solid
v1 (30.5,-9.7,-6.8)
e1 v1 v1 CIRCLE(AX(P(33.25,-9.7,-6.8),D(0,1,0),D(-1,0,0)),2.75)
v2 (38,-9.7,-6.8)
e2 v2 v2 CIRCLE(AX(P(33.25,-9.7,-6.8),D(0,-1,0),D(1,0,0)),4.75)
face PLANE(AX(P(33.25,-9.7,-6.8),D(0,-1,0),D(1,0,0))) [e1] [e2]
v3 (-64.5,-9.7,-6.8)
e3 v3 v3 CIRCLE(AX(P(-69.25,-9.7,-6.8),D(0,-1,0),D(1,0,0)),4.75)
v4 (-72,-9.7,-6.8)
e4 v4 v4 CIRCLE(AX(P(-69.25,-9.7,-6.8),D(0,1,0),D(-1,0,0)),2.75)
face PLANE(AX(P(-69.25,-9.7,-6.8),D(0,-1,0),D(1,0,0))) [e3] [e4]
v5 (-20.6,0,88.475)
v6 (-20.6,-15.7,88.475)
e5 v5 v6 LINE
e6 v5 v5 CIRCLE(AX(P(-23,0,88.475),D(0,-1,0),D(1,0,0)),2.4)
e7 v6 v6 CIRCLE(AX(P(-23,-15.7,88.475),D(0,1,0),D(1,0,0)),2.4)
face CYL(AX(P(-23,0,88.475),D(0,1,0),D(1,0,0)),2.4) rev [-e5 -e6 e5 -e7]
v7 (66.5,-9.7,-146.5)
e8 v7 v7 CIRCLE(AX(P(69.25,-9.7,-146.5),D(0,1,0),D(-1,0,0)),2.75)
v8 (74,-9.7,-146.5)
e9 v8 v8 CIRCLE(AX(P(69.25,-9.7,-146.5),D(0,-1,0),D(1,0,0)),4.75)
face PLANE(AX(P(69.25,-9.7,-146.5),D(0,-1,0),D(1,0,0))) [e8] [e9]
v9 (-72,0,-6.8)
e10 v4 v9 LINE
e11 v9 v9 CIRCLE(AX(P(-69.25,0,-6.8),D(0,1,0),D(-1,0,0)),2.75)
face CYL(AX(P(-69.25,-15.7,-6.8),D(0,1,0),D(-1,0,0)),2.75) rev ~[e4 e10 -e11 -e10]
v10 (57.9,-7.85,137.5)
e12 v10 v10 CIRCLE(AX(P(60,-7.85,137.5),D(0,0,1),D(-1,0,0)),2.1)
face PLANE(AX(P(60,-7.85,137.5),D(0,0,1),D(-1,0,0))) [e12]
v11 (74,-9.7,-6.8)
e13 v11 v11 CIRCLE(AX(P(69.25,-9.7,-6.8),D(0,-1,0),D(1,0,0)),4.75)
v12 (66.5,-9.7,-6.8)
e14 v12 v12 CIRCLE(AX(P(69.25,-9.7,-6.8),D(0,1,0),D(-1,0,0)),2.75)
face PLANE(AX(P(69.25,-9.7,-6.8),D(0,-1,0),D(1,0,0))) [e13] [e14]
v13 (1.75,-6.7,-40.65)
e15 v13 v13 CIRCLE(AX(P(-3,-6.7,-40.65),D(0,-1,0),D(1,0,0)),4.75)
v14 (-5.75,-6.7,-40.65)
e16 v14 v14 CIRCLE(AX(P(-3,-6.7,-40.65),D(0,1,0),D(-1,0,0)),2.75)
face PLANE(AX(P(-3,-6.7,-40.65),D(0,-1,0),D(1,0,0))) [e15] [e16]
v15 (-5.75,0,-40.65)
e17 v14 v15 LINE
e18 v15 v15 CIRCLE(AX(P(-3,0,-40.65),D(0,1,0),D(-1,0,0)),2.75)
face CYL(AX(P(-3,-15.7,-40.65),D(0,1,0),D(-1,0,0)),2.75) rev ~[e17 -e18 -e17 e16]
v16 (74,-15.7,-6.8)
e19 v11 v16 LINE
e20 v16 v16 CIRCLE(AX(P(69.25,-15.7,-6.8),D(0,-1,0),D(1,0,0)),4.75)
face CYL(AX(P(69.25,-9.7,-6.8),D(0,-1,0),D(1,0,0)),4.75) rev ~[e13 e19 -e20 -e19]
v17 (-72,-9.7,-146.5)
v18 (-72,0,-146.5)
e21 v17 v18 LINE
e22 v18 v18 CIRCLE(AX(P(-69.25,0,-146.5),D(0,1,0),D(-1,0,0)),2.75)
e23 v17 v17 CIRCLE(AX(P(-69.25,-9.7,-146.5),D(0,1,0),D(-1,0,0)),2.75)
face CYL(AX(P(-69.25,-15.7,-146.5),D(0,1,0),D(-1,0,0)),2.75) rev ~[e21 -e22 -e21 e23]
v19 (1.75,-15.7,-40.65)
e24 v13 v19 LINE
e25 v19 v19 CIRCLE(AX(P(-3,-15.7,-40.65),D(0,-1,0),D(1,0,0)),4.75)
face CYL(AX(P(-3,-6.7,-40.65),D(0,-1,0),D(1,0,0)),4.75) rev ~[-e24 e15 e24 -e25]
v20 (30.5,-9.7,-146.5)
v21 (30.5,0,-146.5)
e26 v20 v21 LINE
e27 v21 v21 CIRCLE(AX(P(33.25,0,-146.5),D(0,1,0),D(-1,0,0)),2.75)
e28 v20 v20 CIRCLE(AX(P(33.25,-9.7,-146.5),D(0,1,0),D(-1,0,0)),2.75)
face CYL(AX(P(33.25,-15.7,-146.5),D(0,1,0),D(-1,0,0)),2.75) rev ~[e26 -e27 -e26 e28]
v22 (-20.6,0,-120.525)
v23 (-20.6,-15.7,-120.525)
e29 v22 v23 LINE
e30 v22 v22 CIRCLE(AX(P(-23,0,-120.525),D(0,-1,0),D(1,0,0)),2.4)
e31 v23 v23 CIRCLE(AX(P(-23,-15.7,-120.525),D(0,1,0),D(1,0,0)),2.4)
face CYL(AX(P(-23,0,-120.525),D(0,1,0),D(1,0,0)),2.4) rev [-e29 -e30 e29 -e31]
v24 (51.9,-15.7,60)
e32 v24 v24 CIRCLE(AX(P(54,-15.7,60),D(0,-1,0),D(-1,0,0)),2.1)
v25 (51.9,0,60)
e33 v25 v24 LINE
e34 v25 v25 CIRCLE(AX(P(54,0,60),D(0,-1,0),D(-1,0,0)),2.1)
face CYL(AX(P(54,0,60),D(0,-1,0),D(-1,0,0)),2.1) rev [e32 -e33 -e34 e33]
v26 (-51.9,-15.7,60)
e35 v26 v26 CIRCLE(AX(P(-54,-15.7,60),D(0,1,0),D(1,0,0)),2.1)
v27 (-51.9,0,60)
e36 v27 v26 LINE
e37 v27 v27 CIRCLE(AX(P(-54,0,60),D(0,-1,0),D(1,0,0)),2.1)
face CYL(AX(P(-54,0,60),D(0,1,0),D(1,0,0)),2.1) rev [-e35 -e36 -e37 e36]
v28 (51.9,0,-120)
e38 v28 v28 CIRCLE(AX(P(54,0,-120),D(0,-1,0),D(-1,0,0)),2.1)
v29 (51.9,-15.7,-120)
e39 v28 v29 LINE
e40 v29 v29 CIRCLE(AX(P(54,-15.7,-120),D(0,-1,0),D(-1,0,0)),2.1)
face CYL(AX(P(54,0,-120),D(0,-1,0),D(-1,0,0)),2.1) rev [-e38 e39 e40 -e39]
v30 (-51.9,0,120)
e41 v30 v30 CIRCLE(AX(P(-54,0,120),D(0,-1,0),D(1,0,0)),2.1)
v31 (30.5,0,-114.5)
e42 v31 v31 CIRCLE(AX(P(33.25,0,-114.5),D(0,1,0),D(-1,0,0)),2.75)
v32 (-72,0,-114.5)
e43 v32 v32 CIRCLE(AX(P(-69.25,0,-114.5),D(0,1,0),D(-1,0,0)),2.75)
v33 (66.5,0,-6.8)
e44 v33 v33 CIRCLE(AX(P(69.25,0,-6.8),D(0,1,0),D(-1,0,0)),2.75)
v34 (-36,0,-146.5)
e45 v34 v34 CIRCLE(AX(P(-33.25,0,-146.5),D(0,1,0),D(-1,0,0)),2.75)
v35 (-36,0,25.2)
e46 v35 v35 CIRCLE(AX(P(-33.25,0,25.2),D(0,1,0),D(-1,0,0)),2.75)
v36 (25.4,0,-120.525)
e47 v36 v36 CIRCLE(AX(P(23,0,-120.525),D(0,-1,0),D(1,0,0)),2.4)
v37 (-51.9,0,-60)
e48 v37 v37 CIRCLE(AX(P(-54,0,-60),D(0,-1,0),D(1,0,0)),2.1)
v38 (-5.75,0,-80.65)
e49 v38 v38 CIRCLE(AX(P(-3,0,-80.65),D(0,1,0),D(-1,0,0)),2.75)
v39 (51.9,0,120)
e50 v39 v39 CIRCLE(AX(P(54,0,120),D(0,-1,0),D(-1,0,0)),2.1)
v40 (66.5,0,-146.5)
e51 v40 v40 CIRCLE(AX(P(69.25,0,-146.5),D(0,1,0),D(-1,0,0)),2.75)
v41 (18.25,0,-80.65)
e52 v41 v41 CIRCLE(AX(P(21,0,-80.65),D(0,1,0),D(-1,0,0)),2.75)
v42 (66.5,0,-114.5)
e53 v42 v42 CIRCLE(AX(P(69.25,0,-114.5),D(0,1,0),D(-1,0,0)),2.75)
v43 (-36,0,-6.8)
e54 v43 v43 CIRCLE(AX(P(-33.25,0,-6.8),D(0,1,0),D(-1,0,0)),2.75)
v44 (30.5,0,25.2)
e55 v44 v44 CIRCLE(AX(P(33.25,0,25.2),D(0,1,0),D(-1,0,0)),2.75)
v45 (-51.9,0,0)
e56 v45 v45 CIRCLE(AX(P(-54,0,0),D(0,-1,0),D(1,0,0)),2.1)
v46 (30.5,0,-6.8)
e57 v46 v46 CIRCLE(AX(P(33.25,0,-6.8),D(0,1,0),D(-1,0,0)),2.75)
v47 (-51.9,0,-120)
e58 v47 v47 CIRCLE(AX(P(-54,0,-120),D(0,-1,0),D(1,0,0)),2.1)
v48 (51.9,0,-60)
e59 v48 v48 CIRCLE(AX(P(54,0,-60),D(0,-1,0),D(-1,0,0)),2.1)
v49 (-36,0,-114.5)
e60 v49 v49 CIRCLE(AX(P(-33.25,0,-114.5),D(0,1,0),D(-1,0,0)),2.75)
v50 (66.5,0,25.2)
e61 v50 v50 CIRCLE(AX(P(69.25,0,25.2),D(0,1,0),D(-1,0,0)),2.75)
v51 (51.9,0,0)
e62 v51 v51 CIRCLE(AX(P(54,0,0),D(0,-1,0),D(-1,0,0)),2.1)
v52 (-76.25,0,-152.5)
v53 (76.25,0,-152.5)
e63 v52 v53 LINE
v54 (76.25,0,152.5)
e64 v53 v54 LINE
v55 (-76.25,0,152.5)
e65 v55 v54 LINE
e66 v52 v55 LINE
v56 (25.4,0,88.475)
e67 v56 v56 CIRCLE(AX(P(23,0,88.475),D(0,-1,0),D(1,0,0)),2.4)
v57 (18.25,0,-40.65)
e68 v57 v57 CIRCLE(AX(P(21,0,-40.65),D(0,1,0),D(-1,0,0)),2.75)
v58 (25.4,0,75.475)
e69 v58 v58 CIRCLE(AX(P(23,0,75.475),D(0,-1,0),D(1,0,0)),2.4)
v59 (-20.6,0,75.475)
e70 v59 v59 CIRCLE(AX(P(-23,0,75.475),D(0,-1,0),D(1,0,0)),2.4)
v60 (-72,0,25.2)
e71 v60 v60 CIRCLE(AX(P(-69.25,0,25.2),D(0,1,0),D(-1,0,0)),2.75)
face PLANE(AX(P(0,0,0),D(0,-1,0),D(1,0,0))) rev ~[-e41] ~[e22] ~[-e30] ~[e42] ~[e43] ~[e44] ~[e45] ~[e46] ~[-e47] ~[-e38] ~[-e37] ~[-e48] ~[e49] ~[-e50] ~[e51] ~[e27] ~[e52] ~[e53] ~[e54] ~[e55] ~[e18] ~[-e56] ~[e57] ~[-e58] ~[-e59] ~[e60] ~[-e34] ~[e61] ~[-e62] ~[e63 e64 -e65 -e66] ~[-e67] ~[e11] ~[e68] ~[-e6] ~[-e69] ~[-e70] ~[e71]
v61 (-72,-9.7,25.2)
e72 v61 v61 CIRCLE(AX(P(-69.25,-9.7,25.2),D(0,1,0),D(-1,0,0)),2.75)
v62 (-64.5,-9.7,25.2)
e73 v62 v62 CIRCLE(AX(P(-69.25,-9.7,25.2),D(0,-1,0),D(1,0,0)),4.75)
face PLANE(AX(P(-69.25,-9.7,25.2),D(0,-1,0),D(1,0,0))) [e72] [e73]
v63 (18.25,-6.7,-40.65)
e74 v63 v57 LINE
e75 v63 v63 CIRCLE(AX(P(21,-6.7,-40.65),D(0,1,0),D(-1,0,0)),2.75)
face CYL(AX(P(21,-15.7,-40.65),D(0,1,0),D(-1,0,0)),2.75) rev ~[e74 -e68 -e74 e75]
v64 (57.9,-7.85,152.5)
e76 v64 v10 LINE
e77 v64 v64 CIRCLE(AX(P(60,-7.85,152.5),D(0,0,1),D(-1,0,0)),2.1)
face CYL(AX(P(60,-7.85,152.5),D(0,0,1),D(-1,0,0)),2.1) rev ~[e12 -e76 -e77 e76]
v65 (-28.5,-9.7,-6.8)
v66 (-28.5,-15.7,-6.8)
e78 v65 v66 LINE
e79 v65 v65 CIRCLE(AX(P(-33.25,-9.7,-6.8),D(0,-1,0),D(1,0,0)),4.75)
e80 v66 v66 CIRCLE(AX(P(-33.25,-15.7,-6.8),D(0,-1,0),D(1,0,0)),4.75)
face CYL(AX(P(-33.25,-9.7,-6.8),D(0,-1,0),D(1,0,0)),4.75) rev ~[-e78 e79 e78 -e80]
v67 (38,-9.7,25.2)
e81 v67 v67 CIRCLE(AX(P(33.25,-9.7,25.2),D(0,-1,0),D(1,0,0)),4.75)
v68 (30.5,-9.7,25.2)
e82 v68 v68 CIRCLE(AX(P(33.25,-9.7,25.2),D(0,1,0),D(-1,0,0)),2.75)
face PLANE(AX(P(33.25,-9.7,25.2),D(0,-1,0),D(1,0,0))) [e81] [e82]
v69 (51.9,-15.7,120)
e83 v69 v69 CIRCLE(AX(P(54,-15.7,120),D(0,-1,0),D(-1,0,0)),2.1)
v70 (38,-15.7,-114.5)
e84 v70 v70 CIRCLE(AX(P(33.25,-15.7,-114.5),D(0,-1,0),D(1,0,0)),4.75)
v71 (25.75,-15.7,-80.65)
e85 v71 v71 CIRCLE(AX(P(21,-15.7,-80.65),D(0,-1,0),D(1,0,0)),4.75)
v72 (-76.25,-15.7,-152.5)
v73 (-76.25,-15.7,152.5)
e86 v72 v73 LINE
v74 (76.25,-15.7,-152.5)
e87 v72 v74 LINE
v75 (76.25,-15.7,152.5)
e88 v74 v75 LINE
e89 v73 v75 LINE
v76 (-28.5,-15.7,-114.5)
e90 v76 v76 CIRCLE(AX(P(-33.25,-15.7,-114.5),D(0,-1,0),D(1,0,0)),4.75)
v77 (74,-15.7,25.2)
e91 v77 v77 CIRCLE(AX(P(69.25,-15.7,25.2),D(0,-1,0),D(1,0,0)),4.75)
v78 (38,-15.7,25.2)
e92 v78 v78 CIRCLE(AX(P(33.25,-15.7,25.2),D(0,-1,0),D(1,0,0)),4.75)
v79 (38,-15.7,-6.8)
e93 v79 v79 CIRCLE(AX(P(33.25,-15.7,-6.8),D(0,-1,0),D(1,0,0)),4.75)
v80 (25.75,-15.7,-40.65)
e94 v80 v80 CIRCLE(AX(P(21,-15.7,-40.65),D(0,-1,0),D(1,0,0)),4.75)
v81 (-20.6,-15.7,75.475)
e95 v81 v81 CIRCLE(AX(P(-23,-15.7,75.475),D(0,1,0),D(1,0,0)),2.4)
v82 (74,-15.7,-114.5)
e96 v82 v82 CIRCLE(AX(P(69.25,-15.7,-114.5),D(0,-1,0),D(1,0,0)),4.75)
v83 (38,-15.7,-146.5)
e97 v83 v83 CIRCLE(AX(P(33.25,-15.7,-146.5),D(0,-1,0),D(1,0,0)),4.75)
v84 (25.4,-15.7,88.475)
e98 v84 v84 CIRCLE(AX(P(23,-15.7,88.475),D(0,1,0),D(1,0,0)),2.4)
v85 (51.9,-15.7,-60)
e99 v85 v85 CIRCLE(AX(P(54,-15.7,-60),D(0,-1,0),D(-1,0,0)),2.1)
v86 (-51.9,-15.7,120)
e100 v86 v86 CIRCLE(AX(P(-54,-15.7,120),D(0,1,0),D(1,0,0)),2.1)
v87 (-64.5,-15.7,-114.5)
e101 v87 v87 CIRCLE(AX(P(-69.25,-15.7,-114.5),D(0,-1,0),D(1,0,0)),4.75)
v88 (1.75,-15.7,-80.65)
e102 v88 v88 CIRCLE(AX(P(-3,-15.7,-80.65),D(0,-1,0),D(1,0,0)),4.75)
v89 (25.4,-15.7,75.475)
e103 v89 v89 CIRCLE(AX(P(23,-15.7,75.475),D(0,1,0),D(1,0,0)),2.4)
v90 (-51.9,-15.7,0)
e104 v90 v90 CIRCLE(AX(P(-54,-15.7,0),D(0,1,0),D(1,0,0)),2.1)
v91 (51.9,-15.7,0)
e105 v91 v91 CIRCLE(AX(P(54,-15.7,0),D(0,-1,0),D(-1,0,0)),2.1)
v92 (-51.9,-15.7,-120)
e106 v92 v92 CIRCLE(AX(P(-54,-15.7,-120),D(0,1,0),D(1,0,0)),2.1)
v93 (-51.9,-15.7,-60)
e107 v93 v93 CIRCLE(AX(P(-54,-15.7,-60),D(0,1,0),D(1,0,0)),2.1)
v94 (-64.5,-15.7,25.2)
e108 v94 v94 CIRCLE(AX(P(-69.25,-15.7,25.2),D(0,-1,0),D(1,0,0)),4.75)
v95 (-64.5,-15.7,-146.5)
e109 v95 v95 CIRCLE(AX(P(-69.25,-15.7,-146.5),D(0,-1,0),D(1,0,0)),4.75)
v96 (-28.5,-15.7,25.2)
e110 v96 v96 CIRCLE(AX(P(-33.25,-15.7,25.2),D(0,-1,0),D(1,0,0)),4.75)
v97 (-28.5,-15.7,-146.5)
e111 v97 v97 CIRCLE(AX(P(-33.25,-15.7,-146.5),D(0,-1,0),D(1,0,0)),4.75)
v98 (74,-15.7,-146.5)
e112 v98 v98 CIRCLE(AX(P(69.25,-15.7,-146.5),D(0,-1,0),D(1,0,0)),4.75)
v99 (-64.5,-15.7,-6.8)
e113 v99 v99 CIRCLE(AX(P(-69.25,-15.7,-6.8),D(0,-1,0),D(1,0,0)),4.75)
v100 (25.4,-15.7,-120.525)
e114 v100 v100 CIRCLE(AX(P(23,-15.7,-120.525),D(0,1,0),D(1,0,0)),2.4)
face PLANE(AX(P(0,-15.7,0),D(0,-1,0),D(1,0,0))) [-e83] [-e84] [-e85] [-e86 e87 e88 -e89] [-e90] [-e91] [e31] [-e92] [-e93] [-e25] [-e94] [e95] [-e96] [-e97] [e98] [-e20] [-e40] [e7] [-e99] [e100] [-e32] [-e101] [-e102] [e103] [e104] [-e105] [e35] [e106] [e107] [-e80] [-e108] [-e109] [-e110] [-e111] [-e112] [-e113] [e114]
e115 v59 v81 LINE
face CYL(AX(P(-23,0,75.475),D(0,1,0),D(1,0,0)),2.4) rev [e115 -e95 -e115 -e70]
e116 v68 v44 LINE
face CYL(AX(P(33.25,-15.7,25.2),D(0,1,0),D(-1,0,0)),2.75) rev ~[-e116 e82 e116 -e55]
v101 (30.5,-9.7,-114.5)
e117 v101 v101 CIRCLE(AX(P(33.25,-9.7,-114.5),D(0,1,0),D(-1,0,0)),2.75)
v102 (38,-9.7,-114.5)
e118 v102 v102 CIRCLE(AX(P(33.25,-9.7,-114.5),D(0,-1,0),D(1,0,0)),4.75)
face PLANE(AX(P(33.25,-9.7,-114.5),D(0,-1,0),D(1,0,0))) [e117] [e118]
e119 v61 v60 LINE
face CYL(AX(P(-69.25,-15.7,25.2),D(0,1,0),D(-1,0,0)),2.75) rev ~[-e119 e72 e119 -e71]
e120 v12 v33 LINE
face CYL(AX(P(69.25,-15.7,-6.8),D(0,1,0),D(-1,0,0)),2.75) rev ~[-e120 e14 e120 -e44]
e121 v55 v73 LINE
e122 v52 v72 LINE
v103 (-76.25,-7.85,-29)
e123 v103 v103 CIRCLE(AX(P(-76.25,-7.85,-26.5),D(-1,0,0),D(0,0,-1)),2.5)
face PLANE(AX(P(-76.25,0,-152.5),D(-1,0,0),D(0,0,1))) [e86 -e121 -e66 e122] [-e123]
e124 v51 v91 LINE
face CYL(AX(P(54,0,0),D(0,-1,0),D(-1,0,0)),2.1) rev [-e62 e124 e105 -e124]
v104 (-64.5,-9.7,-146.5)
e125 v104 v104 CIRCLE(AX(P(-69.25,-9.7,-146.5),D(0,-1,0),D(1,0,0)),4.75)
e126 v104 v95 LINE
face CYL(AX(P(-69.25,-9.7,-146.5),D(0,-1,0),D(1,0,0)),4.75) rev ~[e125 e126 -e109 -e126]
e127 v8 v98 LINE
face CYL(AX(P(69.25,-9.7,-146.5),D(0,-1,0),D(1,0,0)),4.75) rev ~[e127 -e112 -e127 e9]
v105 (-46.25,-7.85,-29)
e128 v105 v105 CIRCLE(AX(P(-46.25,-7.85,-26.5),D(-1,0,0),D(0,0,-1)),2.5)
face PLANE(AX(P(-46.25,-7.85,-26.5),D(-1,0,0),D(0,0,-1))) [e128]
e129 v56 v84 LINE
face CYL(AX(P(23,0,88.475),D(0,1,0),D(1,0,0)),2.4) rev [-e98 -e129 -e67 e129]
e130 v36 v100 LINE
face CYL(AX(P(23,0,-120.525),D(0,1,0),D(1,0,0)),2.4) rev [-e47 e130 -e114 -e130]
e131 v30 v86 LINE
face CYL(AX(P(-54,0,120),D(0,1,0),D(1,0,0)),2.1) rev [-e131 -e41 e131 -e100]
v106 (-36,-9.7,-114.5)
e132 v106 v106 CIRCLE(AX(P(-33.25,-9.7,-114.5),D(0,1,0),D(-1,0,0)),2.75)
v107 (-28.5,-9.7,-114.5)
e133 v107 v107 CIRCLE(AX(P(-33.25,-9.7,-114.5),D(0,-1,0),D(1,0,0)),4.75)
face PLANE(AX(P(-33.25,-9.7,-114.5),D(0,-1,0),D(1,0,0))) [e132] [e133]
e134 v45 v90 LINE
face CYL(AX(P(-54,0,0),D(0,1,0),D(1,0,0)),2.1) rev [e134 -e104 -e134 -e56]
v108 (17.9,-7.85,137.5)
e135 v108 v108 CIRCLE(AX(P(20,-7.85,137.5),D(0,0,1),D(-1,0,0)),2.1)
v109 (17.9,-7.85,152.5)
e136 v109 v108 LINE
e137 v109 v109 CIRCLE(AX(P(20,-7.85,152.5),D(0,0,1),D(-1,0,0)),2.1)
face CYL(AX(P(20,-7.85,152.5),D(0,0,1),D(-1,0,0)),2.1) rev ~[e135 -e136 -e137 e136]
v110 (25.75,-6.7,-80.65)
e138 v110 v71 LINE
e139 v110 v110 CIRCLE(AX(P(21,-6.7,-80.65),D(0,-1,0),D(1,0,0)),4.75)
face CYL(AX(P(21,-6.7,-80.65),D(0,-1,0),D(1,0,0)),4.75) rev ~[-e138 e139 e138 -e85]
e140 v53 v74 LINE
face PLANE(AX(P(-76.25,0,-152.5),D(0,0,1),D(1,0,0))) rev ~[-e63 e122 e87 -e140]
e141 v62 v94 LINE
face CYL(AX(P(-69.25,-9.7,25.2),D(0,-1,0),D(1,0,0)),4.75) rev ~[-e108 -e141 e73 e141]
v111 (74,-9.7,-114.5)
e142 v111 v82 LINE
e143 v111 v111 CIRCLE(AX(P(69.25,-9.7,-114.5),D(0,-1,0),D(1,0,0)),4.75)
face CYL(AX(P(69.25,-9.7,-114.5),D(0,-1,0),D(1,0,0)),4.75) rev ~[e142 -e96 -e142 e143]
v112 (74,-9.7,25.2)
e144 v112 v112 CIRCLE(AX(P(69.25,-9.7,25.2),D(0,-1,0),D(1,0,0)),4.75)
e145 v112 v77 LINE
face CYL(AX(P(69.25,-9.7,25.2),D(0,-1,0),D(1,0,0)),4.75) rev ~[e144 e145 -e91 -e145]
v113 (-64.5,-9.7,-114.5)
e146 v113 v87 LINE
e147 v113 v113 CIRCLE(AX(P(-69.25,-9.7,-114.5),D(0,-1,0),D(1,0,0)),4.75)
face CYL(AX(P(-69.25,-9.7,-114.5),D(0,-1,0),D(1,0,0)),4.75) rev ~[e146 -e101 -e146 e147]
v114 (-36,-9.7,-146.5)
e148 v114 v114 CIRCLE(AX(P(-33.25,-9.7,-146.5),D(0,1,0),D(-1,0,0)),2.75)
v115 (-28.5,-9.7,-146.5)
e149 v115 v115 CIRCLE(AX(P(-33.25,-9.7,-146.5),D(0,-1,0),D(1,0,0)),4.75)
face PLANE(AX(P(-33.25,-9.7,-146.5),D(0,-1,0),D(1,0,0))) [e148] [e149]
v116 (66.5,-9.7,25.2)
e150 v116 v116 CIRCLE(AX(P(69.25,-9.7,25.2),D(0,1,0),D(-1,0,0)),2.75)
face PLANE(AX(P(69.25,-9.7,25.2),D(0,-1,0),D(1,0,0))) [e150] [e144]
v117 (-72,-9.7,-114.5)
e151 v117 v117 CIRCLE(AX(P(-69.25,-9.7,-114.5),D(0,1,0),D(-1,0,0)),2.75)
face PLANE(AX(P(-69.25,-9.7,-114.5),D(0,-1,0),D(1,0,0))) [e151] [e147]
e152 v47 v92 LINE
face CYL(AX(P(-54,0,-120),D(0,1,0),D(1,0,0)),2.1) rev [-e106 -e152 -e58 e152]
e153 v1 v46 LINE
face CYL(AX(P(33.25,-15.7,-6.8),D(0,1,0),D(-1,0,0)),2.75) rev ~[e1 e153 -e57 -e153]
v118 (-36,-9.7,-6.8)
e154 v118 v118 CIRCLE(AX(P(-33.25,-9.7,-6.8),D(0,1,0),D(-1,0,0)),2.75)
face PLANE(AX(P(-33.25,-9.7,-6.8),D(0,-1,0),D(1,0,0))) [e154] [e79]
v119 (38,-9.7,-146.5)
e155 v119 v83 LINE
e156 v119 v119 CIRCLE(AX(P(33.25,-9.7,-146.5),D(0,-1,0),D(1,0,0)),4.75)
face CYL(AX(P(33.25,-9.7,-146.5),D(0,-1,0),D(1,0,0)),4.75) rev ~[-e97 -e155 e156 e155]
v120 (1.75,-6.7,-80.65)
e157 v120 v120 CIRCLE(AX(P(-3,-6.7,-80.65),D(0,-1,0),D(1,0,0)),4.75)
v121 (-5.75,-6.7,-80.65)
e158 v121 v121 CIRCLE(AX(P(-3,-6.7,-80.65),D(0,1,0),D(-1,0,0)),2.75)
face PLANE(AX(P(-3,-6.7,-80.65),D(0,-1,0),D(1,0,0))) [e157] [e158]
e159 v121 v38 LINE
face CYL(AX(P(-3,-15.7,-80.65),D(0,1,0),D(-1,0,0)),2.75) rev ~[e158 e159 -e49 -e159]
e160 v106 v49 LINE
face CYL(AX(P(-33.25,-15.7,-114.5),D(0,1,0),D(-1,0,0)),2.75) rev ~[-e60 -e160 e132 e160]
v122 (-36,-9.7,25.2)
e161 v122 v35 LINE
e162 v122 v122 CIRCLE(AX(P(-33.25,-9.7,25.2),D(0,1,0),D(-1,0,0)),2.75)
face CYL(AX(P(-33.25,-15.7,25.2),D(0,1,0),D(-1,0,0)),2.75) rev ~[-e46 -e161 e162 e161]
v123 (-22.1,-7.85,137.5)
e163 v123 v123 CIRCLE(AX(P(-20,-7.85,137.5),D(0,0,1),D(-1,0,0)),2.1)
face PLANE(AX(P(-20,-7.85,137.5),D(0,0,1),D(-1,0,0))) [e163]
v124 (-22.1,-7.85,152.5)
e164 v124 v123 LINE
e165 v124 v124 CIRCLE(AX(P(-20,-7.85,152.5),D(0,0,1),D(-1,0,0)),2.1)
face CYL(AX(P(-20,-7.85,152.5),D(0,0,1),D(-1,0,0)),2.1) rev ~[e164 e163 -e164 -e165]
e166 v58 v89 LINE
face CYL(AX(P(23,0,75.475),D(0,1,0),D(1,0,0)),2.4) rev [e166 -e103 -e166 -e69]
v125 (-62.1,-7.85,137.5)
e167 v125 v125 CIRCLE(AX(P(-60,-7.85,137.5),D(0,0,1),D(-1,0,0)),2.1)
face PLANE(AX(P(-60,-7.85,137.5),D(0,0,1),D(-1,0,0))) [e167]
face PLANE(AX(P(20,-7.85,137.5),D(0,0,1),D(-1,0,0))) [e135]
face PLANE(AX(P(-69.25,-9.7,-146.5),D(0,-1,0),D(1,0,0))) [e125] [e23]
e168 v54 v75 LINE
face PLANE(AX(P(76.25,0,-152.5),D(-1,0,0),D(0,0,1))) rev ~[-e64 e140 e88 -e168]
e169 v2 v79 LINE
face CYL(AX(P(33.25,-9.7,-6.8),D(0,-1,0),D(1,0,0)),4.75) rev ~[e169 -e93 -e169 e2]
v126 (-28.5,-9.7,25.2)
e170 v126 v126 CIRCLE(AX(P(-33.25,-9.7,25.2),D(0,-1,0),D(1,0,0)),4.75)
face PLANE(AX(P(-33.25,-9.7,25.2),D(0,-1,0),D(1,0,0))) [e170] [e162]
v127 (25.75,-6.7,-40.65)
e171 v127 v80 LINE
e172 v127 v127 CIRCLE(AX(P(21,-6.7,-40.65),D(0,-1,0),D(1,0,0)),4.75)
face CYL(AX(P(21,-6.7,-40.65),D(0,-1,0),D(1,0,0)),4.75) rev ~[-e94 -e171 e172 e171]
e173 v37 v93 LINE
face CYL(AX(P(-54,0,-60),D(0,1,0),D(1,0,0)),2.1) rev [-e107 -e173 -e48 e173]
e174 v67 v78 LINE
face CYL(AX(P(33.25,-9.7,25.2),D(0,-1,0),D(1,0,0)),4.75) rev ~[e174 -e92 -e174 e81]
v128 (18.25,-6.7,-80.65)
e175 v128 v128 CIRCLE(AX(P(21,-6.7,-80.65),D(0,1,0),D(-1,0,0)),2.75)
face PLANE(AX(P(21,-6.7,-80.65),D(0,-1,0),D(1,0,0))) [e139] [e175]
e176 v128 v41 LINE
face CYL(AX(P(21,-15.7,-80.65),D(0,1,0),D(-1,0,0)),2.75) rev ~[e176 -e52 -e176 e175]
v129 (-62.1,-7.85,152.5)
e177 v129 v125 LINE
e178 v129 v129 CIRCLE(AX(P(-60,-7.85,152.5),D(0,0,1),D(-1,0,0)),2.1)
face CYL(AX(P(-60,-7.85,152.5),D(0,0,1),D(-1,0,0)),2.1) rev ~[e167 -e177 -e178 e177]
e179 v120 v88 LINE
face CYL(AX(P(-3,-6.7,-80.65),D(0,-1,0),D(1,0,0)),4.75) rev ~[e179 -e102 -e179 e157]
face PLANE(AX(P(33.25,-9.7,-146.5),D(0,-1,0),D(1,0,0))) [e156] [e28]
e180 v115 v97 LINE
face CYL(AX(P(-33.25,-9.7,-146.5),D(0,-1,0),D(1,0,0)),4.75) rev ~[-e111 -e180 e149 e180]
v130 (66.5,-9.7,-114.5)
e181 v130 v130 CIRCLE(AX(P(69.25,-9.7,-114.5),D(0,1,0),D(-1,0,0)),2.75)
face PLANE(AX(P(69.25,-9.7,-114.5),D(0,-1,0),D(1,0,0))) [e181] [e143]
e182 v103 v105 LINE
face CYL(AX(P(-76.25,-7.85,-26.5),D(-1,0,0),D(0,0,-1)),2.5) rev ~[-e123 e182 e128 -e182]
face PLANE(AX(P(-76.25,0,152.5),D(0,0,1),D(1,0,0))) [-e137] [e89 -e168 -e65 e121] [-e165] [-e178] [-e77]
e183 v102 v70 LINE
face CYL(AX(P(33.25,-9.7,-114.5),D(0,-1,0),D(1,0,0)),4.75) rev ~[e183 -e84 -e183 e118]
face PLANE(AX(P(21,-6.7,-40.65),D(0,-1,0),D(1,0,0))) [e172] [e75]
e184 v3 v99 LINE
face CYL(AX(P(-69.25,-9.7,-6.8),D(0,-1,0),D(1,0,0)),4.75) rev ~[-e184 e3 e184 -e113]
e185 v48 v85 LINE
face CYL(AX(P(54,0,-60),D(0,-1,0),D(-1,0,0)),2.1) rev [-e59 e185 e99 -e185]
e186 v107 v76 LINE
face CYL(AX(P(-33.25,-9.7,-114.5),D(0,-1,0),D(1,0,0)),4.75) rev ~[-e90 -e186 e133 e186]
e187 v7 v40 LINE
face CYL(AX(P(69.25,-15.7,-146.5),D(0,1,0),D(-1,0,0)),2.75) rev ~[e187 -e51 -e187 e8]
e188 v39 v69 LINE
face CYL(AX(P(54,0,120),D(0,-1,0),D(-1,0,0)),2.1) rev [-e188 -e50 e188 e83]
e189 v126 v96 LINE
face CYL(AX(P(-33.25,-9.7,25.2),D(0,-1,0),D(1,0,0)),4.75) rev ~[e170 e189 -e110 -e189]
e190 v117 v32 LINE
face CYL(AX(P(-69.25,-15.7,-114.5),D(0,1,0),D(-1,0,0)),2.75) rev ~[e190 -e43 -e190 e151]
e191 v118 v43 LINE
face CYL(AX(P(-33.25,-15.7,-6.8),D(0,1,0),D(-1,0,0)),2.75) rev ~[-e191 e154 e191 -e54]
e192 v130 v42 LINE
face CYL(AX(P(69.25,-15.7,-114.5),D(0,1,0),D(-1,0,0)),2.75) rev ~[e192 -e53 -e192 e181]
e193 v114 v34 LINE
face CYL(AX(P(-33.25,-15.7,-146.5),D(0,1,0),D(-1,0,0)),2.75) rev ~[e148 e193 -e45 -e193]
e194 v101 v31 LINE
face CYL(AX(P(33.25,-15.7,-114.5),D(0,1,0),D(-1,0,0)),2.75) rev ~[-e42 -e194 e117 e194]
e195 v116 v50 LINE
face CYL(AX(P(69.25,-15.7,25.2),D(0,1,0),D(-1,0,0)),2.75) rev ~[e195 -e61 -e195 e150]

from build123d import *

# Parameters (mm, degrees)
SKETCH_W             = 152.5
SKETCH_H             = 305
PAD_DEPTH            = 15.7
SKETCH001_R          = 2.1
POCKET_DEPTH         = 682.724194
POCKET_DEPTH_BACK    = 698.424194
SKETCH002_R          = 2.4
POCKET001_DEPTH      = 0.001
POCKET001_DEPTH_BACK = 15.701
HOLE003_D            = 5.5
HOLE003_CBORE_D      = 9.5
HOLE003_CBORE_DEPTH  = 6
SKETCH011_R          = 2.1
POCKET002_DEPTH      = 15
HOLE004_D            = 5.5
HOLE004_CBORE_D      = 9.5
HOLE004_CBORE_DEPTH  = 9
SKETCH014_R          = 2.5
POCKET004_DEPTH      = 30


with BuildPart() as part:
    # Sketch → Pad (new body)
    with BuildSketch(Plane.XZ):
        Rectangle(SKETCH_W, SKETCH_H)
    extrude(amount=PAD_DEPTH)

    # Sketch001 → Pocket (cut, two sides)
    with BuildSketch(Plane.XZ) as pocket_sk:
        with Locations((-54, 0)):
            Circle(SKETCH001_R)
        with Locations((-54, 60)):
            Circle(SKETCH001_R)
        with Locations((-54, 120)):
            Circle(SKETCH001_R)
        with Locations((-54, -60)):
            Circle(SKETCH001_R)
        with Locations((-54, -120)):
            Circle(SKETCH001_R)
    pocket = extrude(amount=-POCKET_DEPTH, mode=Mode.SUBTRACT) + extrude(pocket_sk.sketch, amount=POCKET_DEPTH_BACK, mode=Mode.SUBTRACT)

    # Mirrored: Pocket across Sketch001 V_Axis
    add(pocket.mirror(Plane(origin=(0, 0, 0), x_dir=(0, -1, 0), z_dir=(1, 0, 0))), mode=Mode.SUBTRACT)

    # Sketch002 → Pocket001 (cut, two sides)
    with BuildSketch(Plane.XZ) as pocket001_sk:
        with Locations((-23, -120.525)):
            Circle(SKETCH002_R)
        with Locations((23, -120.525)):
            Circle(SKETCH002_R)
        with Locations((-23, 88.475)):
            Circle(SKETCH002_R)
        with Locations((-23, 75.475)):
            Circle(SKETCH002_R)
        with Locations((23, 88.475)):
            Circle(SKETCH002_R)
        with Locations((23, 75.475)):
            Circle(SKETCH002_R)
    extrude(amount=-POCKET001_DEPTH, mode=Mode.SUBTRACT)
    extrude(pocket001_sk.sketch, amount=POCKET001_DEPTH_BACK, mode=Mode.SUBTRACT)

    # Hole003 (through all)
    with Locations(Plane.XZ.offset(15.7)):
        with Locations((-69.25, -146.5), (-69.25, -114.5), (-33.25, -114.5), (-33.25, -146.5), (33.25, -114.5), (69.25, -114.5), (33.25, -146.5), (69.25, -146.5), (-69.25, -6.8), (-69.25, 25.2), (-33.25, -6.8), (-33.25, 25.2), (33.25, -6.8), (33.25, 25.2), (69.25, -6.8), (69.25, 25.2)):
            CounterBoreHole(HOLE003_D / 2, HOLE003_CBORE_D / 2, HOLE003_CBORE_DEPTH)

    # Sketch011 (on Face1 of Hole003) → Pocket002 (cut)
    with BuildSketch(Plane(origin=(0, 0, 152.5), x_dir=(-1, 0, 0), z_dir=(0, 0, 1))):
        with Locations((-60, 7.85)):
            Circle(SKETCH011_R)
        with Locations((-20, 7.85)):
            Circle(SKETCH011_R)
        with Locations((20, 7.85)):
            Circle(SKETCH011_R)
        with Locations((60, 7.85)):
            Circle(SKETCH011_R)
    extrude(amount=-POCKET002_DEPTH, mode=Mode.SUBTRACT)

    # Hole004 (through all)
    with Locations(Plane.XZ.offset(15.7)):
        with Locations((-3, -40.65), (21, -40.65), (-3, -80.65), (21, -80.65)):
            CounterBoreHole(HOLE004_D / 2, HOLE004_CBORE_D / 2, HOLE004_CBORE_DEPTH)

    # Sketch014 (on Face2 of Hole004) → Pocket004 (cut)
    with BuildSketch(Plane(origin=(-76.25, 0, 0), x_dir=(0, 0, -1), z_dir=(-1, 0, 0))):
        with Locations((26.5, 7.85)):
            Circle(SKETCH014_R)
    extrude(amount=-POCKET004_DEPTH, mode=Mode.SUBTRACT)


solid = part.part
